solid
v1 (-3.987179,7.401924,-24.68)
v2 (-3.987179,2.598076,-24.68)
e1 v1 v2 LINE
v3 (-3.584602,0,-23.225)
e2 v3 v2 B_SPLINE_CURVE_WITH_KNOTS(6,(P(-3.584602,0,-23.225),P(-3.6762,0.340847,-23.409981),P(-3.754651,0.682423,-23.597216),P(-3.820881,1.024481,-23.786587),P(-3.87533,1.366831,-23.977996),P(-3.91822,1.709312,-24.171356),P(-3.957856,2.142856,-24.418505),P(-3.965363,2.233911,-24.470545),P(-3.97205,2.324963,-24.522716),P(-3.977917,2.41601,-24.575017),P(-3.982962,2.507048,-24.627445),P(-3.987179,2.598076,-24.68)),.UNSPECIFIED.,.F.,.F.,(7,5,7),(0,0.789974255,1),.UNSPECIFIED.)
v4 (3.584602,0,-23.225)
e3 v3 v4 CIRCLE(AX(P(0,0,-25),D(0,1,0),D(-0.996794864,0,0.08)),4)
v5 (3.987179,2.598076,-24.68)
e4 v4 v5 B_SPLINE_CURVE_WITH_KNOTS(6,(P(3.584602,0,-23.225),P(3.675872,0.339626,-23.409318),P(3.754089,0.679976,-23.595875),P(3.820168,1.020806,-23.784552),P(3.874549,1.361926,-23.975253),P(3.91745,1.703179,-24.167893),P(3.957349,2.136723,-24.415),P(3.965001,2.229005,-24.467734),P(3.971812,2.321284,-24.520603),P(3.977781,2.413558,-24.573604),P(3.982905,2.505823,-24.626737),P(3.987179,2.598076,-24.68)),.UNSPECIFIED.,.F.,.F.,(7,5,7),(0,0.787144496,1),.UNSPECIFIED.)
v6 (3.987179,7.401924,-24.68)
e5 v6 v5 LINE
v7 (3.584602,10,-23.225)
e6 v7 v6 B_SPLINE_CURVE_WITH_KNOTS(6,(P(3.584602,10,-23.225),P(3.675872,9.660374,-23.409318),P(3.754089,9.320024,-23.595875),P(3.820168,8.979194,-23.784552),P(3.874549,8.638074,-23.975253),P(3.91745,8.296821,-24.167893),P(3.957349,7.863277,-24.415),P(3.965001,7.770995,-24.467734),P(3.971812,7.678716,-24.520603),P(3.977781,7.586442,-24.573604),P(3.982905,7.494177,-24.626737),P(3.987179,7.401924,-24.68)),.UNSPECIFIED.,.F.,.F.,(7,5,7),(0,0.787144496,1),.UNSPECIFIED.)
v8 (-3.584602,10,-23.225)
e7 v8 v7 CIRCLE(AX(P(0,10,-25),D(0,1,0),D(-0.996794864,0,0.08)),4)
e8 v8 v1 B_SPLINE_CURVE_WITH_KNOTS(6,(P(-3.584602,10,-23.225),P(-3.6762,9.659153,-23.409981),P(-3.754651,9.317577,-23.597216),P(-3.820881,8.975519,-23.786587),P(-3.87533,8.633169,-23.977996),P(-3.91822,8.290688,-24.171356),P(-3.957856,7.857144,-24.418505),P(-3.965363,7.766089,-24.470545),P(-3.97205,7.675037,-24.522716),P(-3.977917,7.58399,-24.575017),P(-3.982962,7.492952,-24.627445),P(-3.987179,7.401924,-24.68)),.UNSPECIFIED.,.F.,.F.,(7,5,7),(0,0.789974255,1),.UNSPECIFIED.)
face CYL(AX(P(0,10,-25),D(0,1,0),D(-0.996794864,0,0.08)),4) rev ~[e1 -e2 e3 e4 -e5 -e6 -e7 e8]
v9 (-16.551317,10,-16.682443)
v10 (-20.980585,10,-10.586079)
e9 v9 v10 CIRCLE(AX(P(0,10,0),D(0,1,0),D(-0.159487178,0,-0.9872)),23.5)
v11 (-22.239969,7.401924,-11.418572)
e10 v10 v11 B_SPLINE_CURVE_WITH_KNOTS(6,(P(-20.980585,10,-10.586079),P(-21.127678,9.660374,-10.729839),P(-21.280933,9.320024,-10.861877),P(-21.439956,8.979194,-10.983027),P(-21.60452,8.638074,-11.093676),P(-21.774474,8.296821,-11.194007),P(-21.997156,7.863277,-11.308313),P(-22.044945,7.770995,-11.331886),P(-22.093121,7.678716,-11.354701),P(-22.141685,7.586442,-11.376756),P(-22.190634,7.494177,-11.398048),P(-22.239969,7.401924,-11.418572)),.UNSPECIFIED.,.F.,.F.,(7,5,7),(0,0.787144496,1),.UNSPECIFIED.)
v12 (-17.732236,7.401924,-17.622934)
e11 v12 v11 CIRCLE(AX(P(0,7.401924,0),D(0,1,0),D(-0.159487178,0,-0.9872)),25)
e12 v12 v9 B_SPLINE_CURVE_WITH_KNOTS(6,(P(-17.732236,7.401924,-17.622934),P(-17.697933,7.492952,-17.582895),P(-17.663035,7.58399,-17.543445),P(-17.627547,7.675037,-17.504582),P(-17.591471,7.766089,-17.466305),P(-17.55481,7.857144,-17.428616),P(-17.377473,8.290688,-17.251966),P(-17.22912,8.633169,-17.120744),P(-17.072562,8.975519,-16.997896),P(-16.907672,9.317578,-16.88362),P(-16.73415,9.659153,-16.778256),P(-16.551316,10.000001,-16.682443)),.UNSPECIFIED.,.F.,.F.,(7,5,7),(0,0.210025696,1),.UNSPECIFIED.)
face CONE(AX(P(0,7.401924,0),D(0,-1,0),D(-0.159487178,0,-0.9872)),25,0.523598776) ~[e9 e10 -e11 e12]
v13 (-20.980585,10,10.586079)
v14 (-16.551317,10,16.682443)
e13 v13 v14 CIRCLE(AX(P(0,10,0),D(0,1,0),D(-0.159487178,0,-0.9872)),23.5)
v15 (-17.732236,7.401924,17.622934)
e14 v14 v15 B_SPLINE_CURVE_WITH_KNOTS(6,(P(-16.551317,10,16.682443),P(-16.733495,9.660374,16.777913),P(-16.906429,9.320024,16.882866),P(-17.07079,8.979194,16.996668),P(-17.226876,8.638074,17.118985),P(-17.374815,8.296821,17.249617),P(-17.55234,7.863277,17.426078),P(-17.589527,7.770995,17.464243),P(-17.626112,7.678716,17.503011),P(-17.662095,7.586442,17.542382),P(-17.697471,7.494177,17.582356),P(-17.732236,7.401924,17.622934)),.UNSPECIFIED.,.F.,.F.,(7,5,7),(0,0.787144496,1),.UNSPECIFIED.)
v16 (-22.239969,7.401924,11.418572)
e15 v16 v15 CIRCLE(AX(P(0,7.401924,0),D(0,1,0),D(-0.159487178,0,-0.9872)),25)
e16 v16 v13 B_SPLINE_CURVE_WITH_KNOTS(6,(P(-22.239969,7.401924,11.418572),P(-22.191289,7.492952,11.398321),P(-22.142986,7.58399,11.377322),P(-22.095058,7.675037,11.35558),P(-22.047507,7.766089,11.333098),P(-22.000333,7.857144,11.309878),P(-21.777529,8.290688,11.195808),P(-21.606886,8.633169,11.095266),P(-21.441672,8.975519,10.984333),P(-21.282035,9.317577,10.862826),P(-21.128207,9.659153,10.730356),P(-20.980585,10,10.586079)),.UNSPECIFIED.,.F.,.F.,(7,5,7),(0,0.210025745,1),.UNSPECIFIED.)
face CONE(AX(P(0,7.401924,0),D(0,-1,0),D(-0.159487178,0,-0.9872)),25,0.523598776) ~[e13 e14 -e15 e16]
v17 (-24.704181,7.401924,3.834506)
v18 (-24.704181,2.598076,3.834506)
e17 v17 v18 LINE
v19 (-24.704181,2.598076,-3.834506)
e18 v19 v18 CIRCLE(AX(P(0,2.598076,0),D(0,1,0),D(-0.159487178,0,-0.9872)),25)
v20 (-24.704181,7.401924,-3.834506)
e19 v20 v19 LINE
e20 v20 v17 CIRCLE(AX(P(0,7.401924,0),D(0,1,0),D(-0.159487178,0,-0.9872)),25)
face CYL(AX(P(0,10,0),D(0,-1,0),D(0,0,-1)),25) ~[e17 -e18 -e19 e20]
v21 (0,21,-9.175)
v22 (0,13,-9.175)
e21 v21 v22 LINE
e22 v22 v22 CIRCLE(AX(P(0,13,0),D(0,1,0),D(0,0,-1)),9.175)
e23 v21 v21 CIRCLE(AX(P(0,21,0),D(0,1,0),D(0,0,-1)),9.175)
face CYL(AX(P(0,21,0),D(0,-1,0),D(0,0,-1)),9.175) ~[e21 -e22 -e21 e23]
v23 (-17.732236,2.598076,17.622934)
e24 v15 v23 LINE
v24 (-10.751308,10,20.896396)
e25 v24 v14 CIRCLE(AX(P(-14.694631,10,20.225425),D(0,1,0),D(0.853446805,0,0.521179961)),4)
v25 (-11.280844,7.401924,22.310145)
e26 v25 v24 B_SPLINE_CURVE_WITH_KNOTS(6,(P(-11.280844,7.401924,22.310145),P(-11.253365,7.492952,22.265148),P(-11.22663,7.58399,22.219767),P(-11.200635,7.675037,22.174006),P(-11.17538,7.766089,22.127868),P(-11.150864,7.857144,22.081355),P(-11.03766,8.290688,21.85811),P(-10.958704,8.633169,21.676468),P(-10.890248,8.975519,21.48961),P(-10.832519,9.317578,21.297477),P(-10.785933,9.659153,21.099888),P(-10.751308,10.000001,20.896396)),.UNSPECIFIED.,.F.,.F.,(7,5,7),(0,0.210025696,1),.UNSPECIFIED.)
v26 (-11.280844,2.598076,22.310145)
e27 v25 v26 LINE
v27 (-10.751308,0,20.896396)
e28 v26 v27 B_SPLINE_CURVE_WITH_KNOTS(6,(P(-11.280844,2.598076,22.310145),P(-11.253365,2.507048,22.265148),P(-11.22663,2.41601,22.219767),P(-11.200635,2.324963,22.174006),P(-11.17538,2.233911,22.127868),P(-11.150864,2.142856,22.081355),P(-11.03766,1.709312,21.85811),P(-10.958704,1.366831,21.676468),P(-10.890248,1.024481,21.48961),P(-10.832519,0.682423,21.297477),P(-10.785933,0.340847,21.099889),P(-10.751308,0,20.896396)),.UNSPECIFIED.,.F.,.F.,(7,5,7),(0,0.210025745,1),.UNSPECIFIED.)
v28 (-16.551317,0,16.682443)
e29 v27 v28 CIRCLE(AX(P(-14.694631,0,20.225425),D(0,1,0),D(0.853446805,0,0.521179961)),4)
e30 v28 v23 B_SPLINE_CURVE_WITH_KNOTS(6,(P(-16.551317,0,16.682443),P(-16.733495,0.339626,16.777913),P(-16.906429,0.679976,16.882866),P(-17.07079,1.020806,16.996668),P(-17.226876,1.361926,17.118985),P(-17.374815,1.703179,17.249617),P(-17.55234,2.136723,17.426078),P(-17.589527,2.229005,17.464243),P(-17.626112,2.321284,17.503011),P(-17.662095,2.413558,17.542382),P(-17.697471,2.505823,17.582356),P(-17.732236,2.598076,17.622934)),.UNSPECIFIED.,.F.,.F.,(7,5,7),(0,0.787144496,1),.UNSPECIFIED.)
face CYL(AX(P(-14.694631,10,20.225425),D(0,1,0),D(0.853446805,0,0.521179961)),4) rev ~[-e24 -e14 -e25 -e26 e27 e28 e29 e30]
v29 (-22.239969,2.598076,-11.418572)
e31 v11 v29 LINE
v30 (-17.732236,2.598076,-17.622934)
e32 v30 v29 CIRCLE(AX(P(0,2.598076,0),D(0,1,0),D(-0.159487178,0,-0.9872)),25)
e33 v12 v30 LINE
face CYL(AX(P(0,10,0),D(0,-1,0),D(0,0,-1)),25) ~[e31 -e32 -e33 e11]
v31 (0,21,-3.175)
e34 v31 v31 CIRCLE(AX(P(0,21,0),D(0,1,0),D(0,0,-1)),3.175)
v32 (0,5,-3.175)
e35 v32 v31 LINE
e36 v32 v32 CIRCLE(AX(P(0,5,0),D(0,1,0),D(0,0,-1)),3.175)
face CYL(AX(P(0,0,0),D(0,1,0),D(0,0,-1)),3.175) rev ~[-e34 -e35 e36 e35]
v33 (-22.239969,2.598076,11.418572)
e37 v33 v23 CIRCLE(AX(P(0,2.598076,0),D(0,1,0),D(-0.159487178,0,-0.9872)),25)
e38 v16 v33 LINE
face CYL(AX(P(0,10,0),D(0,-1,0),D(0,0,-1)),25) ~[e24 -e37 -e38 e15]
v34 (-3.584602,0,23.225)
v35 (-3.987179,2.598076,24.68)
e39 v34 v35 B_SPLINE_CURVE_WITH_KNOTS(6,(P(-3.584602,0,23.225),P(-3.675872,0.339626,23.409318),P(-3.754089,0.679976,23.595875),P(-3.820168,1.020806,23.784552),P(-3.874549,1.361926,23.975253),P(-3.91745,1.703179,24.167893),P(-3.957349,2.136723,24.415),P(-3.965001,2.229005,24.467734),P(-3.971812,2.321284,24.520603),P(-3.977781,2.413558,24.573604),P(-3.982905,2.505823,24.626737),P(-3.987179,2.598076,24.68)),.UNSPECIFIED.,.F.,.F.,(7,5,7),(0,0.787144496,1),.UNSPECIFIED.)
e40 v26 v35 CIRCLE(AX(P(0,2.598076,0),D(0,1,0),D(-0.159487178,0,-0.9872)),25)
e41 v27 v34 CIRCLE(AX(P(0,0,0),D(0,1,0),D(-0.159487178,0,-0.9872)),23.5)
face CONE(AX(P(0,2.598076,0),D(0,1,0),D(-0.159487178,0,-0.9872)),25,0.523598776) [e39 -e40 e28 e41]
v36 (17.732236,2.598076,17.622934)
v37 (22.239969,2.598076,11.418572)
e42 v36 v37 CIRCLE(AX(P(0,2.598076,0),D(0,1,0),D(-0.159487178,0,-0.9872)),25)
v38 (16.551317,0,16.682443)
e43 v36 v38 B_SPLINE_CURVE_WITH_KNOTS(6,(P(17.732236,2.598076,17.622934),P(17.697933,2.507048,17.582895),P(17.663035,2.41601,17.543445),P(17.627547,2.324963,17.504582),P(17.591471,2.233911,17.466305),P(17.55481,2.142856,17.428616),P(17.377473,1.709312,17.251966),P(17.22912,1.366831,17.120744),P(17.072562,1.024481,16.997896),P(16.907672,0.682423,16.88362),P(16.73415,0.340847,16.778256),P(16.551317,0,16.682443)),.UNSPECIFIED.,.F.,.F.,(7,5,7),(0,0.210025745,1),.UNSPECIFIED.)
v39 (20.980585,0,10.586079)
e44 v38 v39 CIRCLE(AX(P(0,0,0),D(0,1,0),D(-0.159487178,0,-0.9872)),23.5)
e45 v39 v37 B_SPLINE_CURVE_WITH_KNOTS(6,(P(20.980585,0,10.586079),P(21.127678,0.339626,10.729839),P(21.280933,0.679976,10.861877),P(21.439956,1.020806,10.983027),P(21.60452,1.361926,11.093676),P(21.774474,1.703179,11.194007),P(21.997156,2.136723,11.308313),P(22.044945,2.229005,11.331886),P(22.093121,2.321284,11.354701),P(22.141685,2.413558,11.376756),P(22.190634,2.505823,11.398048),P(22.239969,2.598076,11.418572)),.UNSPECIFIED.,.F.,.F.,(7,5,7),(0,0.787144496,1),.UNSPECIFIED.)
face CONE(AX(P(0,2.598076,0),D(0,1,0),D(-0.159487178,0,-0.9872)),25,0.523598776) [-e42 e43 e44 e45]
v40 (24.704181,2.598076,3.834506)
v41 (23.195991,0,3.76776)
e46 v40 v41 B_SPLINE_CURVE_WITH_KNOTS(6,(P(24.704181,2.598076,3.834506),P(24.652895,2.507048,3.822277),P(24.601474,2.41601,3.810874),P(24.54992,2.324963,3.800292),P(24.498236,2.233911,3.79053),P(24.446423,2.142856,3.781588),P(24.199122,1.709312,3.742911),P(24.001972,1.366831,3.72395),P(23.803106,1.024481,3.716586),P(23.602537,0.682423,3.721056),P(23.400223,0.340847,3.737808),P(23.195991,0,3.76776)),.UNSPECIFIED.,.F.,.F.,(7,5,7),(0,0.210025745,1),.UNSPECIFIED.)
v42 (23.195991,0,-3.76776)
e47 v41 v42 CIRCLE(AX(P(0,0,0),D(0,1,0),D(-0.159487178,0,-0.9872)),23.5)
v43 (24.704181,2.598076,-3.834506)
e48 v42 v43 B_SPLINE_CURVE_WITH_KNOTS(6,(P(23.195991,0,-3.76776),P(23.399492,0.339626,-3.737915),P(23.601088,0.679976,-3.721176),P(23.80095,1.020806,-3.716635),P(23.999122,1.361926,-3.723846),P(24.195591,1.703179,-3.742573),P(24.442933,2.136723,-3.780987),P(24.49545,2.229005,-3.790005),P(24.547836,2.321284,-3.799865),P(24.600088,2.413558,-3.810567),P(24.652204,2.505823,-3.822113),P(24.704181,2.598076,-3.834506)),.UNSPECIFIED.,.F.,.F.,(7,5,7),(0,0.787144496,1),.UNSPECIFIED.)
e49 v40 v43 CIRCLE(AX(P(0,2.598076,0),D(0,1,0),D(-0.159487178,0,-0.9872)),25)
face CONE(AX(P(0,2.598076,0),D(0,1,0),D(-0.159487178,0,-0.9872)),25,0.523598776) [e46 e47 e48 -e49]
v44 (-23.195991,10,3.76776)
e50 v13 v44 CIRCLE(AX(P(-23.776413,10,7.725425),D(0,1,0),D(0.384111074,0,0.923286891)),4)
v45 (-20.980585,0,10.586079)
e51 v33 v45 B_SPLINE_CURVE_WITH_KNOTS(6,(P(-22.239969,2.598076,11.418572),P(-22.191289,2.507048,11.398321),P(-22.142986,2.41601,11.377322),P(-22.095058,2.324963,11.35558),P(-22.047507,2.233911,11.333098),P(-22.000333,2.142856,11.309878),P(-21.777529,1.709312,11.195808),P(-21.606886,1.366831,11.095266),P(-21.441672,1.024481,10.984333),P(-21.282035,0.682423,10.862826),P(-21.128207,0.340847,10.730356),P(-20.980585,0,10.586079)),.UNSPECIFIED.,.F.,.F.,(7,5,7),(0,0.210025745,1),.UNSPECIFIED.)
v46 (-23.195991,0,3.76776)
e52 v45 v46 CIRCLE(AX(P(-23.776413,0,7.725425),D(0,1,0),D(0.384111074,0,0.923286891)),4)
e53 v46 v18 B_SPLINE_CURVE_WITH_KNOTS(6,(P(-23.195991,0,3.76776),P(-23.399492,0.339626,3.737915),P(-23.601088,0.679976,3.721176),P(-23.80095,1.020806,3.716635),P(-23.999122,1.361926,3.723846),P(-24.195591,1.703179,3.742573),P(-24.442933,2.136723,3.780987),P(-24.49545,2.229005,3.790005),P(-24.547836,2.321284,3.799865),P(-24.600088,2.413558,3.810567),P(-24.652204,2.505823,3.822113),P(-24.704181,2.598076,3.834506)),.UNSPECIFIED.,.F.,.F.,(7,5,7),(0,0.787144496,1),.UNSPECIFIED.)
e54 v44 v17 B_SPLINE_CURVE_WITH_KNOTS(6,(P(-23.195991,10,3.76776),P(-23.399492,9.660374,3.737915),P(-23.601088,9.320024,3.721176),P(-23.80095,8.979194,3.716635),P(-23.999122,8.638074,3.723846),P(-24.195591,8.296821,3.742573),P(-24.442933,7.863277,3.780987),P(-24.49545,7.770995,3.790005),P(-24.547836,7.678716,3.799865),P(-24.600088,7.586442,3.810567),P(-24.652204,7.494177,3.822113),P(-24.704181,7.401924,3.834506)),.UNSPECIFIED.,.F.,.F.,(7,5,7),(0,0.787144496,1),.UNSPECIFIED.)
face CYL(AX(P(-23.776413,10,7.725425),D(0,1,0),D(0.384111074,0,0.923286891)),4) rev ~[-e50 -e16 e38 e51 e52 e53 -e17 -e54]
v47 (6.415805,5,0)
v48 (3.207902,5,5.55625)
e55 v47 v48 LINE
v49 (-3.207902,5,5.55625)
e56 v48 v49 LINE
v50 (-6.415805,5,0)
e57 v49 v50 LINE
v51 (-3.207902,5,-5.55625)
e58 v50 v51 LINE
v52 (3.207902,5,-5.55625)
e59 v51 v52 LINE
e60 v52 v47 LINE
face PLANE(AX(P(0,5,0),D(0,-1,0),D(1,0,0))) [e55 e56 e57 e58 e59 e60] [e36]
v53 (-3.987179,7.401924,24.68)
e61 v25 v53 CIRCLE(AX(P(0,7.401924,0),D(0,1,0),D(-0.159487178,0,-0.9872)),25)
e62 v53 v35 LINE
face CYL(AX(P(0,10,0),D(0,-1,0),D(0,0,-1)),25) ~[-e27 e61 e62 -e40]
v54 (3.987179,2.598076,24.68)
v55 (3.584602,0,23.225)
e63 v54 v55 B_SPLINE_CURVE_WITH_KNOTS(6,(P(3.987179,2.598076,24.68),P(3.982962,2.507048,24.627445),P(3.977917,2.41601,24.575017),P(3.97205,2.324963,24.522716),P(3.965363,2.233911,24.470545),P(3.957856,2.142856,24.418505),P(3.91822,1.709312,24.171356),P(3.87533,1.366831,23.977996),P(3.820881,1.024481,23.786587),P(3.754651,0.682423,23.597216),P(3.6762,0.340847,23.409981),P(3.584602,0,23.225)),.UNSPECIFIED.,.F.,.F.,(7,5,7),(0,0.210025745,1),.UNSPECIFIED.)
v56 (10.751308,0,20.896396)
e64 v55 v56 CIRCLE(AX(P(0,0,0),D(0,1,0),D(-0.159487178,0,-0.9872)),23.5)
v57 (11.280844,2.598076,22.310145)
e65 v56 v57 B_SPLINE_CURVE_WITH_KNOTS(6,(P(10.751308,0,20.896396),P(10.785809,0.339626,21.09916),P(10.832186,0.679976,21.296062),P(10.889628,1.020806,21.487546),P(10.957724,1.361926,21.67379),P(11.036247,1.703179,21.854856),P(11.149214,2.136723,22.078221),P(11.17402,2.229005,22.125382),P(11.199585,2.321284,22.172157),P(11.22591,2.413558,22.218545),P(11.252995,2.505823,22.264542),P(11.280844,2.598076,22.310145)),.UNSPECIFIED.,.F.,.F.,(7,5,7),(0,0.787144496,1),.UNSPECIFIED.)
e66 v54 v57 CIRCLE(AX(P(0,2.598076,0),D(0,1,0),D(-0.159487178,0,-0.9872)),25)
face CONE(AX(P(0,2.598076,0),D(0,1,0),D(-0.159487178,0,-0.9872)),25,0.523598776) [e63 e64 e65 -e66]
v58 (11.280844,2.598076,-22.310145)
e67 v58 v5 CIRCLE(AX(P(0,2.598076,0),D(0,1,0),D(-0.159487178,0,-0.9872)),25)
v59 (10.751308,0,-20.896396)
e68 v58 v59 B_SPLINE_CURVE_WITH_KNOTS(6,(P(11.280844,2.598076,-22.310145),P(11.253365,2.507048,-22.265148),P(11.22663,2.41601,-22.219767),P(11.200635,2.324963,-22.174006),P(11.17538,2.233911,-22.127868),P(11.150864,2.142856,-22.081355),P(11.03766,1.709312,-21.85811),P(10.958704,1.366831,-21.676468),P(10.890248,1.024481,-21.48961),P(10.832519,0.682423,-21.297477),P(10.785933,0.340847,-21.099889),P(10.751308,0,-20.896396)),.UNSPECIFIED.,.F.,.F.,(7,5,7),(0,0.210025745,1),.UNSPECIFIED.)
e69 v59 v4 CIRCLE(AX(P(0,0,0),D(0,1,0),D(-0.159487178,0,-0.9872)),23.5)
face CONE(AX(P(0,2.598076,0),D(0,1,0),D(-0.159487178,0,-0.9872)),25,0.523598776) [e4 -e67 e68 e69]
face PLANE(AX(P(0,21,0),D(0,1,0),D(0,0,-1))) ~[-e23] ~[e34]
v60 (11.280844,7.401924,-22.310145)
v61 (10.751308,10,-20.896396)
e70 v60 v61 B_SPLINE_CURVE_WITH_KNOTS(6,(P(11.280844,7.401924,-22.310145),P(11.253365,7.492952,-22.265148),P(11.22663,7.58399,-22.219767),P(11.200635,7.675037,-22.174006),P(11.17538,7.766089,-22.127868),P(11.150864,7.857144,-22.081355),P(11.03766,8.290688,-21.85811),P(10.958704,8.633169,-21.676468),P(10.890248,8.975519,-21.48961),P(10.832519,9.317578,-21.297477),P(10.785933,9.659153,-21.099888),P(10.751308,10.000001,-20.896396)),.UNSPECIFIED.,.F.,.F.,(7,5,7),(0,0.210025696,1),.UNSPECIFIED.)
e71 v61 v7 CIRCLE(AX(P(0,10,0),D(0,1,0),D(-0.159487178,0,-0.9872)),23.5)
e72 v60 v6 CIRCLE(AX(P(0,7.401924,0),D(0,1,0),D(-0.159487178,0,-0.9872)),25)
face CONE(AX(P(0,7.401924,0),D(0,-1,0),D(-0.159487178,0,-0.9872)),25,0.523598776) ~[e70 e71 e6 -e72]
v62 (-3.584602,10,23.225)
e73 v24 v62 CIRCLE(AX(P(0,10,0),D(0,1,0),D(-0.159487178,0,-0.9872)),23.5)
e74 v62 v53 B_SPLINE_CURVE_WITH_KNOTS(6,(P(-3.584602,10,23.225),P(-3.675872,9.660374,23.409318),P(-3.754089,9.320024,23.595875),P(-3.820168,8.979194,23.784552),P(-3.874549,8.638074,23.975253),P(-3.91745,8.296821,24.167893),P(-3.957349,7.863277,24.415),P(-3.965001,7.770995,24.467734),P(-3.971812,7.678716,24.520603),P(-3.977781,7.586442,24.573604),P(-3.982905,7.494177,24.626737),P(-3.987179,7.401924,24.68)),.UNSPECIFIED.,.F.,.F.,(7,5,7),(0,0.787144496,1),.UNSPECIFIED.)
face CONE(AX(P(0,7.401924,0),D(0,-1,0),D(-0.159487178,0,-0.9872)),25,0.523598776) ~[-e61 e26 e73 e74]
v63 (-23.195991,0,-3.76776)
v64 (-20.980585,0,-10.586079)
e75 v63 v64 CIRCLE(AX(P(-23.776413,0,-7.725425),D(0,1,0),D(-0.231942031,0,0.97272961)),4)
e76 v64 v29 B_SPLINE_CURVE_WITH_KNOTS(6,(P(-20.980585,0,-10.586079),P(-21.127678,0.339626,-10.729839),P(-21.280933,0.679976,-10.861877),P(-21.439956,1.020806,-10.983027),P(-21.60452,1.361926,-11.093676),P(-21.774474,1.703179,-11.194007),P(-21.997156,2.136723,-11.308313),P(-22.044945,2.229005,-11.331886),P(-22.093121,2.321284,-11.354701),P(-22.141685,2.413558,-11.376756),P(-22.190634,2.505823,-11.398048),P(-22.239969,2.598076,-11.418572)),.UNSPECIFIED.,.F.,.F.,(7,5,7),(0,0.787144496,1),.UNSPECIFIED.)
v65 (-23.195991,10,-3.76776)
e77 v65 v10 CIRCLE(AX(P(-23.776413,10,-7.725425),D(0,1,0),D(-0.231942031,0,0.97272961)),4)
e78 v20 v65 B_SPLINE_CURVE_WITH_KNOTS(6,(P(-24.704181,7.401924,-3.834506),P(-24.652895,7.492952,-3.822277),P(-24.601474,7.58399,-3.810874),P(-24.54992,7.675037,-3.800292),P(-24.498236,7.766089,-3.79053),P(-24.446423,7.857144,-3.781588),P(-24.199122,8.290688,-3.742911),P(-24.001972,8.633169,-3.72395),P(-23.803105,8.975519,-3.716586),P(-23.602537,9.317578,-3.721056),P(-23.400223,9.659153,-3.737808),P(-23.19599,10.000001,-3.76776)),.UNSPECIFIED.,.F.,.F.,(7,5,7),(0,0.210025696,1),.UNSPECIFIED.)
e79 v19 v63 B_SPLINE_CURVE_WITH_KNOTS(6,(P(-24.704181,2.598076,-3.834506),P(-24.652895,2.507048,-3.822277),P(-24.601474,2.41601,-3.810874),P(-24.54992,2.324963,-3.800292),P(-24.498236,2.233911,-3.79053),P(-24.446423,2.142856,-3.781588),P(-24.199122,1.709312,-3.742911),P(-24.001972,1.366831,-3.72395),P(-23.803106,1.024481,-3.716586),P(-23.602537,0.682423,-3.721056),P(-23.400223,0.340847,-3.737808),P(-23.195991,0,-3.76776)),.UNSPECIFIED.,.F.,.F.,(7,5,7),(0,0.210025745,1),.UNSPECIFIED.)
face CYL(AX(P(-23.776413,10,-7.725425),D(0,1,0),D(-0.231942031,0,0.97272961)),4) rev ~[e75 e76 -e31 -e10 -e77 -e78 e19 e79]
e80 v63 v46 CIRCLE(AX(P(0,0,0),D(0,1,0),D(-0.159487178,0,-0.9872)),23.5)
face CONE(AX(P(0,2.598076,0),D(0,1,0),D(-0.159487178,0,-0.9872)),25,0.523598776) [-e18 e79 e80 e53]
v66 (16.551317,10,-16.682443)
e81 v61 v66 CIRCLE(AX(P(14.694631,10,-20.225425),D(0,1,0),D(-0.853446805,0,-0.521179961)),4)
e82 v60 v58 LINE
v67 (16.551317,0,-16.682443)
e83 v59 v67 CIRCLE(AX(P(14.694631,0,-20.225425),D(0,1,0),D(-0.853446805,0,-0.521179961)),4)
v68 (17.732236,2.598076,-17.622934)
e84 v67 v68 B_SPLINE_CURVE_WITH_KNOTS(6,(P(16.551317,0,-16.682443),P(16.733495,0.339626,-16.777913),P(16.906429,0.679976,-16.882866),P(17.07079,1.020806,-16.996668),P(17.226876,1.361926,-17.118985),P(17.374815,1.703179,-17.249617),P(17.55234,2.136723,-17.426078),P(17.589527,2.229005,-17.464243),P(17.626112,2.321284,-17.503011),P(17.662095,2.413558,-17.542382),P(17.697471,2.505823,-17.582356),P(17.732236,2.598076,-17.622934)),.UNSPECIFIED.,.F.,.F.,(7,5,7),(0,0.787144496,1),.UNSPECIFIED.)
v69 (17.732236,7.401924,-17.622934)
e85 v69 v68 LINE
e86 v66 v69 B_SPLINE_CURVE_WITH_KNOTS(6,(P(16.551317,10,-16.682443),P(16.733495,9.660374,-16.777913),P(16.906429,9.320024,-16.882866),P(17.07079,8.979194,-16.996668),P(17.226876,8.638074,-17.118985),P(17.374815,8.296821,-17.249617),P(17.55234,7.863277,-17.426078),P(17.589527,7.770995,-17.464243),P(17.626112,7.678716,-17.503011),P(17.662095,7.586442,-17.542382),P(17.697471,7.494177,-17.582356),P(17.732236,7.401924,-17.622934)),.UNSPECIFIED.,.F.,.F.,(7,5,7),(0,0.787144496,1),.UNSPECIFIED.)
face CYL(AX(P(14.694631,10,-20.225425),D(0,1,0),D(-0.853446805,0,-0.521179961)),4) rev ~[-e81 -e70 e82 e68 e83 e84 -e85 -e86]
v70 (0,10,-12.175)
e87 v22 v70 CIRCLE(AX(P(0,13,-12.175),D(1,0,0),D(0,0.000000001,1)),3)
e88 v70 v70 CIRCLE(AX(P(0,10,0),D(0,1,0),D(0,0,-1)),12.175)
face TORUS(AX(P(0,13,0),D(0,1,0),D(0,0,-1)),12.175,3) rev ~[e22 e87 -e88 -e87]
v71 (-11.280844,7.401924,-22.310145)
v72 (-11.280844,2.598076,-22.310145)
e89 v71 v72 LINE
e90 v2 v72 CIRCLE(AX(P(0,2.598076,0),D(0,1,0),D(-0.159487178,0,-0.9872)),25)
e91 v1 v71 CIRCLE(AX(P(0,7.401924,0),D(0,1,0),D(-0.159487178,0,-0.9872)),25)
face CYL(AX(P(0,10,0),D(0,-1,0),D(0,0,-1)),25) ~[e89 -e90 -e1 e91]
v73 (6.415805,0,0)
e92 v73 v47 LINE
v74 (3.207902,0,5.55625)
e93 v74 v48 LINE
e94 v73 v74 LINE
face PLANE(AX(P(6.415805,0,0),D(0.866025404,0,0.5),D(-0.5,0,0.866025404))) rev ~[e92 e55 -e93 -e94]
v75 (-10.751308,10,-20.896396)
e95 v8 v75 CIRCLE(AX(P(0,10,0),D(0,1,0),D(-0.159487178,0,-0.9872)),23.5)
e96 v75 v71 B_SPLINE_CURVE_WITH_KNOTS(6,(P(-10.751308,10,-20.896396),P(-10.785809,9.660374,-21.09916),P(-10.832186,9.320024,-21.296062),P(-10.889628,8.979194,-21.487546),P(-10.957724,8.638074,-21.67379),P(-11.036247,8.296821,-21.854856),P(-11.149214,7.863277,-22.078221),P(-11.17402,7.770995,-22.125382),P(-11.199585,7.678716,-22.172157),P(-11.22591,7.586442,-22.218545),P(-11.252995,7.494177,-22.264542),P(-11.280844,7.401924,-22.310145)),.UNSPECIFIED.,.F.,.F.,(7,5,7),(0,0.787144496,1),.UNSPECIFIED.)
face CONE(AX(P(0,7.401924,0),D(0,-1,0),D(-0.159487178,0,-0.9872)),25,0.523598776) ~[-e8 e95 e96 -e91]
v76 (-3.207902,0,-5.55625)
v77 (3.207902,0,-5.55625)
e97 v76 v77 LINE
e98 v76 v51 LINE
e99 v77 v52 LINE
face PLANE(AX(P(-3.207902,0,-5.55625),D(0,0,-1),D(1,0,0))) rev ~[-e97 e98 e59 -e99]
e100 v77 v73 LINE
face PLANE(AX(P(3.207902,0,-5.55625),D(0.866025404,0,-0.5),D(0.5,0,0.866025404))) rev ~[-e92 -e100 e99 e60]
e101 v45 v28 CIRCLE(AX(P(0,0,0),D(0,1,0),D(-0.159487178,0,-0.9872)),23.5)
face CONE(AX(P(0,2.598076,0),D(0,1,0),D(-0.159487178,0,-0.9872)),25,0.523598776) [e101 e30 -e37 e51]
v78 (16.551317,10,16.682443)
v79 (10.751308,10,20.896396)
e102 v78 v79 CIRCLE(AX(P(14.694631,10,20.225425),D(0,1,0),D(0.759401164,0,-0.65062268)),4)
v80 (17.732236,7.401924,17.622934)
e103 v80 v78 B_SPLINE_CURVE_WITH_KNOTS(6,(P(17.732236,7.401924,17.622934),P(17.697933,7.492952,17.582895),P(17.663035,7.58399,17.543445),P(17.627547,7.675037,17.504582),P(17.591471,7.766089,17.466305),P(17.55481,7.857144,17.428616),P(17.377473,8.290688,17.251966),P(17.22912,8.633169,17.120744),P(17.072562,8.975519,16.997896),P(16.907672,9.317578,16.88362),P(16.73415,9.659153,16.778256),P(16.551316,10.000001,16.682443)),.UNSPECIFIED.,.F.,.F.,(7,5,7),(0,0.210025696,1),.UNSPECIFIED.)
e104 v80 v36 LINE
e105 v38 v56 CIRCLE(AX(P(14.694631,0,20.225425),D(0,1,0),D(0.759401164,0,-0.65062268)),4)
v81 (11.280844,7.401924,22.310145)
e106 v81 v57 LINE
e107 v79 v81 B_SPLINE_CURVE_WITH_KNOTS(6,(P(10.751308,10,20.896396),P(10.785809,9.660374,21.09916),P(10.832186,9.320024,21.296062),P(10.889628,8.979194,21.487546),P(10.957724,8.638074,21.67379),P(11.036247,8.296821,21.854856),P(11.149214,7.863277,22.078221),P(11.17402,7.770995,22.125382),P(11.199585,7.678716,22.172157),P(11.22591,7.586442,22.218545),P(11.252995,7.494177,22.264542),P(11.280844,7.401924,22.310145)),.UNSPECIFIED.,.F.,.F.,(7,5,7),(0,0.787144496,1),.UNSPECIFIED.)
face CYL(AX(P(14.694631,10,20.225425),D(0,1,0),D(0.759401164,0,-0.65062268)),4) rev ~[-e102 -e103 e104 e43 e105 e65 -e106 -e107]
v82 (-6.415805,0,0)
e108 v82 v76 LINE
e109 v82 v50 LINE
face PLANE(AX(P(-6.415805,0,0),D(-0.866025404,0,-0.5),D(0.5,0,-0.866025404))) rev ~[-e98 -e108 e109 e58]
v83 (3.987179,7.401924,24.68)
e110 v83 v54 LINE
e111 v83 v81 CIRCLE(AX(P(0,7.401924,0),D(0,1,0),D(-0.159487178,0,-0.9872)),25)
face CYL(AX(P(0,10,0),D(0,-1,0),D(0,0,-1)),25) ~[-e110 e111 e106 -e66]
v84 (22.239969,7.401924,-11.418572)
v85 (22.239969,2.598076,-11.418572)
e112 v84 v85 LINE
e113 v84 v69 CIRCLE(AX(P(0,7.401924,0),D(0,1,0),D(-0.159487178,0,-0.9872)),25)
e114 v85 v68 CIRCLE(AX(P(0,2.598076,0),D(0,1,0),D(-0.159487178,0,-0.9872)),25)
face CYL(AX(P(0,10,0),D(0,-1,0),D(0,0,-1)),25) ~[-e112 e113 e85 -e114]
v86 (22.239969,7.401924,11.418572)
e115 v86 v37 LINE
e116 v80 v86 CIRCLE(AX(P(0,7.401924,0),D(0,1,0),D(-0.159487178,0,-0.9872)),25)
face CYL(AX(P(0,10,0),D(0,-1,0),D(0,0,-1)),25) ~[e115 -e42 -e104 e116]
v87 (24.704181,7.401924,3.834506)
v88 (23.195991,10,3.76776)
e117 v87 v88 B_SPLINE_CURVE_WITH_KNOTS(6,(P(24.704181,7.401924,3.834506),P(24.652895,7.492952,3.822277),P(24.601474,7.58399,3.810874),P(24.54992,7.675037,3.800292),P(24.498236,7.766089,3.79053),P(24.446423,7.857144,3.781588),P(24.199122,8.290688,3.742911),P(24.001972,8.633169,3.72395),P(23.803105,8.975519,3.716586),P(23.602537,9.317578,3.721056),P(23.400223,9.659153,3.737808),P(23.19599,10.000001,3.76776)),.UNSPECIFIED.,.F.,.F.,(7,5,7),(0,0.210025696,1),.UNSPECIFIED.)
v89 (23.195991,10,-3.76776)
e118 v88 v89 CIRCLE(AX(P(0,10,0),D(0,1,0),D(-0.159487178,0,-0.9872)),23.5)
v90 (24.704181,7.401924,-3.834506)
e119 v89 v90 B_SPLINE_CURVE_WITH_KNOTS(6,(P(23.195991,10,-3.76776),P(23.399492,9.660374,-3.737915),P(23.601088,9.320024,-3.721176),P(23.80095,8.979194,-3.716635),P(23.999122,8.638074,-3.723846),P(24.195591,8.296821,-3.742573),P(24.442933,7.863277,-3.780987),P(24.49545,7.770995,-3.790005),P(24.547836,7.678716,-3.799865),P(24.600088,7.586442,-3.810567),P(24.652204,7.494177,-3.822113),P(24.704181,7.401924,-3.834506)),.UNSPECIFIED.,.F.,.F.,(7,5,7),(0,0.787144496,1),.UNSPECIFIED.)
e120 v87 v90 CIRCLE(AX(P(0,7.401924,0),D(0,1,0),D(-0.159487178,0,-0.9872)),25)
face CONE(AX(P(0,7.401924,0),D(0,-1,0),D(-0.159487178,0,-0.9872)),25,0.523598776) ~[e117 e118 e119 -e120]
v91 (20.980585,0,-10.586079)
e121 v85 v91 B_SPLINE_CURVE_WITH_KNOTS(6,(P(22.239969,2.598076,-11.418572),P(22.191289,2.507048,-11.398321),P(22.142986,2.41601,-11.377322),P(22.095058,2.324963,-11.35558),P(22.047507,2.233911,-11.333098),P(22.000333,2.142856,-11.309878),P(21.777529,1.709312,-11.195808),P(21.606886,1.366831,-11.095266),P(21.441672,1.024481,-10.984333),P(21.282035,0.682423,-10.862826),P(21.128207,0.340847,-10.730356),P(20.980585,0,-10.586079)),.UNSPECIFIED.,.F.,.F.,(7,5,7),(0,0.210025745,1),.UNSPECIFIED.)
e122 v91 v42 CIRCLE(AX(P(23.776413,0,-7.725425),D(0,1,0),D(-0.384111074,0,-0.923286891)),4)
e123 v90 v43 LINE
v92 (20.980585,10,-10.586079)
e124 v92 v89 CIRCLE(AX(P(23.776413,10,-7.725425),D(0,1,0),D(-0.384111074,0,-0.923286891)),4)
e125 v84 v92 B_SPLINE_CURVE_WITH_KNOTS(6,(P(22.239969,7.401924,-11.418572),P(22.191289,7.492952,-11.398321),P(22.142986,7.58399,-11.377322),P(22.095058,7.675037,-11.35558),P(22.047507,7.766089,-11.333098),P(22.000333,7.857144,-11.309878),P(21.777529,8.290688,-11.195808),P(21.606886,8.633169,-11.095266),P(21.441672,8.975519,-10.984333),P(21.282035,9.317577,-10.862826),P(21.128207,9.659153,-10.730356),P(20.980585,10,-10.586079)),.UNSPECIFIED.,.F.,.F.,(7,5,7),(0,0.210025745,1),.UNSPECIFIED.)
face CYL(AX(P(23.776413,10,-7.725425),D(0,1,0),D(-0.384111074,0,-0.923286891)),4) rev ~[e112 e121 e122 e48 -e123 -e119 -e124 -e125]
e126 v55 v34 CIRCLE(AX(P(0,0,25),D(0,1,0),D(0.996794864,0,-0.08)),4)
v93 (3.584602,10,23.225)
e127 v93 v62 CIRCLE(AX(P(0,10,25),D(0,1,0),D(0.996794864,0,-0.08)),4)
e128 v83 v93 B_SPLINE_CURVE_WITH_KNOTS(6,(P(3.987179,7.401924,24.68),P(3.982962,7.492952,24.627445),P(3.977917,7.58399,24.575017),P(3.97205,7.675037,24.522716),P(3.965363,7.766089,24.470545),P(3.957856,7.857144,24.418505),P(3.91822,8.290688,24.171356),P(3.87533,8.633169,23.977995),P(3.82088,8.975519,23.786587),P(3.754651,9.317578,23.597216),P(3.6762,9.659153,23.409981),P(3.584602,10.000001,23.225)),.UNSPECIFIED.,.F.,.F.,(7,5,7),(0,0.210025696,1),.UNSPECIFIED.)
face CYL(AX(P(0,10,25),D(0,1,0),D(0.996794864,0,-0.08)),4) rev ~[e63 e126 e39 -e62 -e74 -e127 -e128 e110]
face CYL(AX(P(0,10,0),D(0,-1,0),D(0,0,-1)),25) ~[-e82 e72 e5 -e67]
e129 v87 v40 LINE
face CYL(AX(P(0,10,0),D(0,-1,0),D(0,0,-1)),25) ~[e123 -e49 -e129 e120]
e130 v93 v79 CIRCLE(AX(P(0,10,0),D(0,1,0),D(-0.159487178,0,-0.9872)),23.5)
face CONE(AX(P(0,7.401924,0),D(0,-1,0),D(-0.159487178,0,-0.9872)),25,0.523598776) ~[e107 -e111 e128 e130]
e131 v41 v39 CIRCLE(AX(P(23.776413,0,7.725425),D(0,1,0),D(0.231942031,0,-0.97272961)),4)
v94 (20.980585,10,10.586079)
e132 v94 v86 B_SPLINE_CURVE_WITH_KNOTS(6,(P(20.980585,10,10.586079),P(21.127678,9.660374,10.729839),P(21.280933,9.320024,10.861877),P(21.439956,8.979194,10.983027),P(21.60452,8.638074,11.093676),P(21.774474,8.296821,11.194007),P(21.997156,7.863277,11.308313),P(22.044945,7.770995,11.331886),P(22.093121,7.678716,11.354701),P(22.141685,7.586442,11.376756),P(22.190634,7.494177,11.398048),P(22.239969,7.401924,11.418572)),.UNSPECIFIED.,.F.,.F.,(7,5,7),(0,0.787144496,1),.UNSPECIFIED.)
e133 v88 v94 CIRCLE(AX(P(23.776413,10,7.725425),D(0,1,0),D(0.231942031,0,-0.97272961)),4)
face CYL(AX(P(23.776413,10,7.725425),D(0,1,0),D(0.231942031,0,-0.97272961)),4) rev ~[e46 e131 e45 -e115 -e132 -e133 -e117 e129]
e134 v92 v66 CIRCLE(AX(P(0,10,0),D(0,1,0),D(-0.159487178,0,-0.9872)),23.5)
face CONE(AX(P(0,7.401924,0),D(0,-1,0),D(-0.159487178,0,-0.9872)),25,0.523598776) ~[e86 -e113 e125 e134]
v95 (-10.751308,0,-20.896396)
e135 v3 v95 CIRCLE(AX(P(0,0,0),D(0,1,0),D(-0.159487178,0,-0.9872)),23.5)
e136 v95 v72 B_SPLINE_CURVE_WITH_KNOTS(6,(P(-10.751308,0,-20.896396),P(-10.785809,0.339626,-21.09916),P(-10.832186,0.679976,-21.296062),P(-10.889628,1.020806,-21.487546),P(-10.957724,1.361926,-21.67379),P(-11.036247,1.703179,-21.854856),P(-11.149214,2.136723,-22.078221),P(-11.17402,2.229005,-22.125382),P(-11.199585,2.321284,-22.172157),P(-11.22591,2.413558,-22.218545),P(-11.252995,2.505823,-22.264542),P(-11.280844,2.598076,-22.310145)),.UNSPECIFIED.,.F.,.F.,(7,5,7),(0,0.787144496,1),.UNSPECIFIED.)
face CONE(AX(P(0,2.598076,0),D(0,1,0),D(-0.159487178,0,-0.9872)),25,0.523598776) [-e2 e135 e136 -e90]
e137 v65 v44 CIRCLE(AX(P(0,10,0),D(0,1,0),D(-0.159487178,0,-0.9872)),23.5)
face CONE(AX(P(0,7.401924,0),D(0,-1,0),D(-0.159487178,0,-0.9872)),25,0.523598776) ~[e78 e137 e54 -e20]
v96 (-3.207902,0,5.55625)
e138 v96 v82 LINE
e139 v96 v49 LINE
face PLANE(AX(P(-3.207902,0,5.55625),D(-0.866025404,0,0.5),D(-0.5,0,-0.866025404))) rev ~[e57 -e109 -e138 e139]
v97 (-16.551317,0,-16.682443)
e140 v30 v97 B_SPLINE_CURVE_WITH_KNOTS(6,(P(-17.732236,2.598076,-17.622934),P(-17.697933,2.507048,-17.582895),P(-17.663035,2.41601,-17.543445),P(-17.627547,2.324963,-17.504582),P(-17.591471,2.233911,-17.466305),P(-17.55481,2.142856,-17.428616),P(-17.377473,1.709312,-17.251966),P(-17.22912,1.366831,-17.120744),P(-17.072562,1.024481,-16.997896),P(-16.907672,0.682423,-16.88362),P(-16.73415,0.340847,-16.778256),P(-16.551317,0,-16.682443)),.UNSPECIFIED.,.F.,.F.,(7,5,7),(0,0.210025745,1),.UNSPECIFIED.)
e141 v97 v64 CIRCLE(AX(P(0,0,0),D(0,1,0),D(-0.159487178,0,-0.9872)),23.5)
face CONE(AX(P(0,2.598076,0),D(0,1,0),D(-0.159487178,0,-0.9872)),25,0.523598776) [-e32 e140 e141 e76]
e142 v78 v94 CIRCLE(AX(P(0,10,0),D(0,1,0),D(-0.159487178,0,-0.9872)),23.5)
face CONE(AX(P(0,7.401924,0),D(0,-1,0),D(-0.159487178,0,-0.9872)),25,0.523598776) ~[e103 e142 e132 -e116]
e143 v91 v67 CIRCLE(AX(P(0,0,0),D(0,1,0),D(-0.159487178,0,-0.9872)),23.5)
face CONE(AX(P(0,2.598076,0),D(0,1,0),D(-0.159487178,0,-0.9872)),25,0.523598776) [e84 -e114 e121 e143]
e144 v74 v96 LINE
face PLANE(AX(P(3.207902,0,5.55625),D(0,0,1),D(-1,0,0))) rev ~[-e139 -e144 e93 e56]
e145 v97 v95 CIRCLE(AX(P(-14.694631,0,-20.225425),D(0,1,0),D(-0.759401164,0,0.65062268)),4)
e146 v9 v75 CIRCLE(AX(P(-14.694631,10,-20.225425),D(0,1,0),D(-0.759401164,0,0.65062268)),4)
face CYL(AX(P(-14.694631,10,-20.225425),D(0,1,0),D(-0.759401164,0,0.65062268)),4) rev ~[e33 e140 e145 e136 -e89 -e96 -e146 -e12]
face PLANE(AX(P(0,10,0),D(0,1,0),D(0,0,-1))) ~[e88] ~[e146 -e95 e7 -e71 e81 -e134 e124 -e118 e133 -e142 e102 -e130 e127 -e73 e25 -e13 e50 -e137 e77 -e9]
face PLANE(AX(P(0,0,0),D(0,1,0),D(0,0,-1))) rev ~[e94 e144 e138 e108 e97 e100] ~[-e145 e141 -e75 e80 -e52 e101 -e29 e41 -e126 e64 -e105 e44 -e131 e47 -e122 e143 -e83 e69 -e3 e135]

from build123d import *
from OCP.BRepFilletAPI import BRepFilletAPI_MakeChamfer

# Parameters (mm, degrees)
CUT_EXTRUDE3_DEPTH = 38.027017163
CHAMFER1_SIZE      = 1.5
CHAMFER1_SIZE2     = 2.598076211
CIRPATTERN1_COUNT  = 10
CUT_EXTRUDE2_DEPTH = 5


with BuildPart() as part:
    # Sketch1 → Revolve1 (revolve)
    with BuildSketch(Plane.XY, mode=Mode.PRIVATE) as revolve1_sk:
        with BuildLine():
            Line((3.175, 0), (3.175, 21))
            Line((3.175, 21), (9.175, 21))
            Line((9.175, 21), (9.175, 13))
            ThreePointArc((9.175, 13), (10.053679656, 10.878679656), (12.175, 10))
            Line((12.175, 10), (25, 10))
            Line((25, 10), (25, 0))
            Line((25, 0), (3.175, 0))
        make_face()
    revolve(revolve1_sk.sketch.rotate(Axis((0, 0, 0), (0, 1, 0)), 90), axis=Axis((0, 0, 0), (0, 1, 0)))

    # Sketch4 → Cut-Extrude3 (cut, through all)
    with BuildSketch(Plane(origin=(0, 10, 0), x_dir=(1, 0, 0), z_dir=(0, 1, 0))):
        with BuildLine():
            ThreePointArc((-3.987179454, 24.68), (0, 21), (3.987179454, 24.68))
            ThreePointArc((3.987179454, 24.68), (0, 25), (-3.987179454, 24.68))
        make_face()
    cut_extrude3 = extrude(amount=-CUT_EXTRUDE3_DEPTH, mode=Mode.SUBTRACT)

    # Chamfer1: one chamfer whose edges measure the first distance from different faces: ONE call of the kernel's chamfer builder (chamfer() names one face for all edges)
    chamfer1_edges_1 = [part.edges().sort_by_distance(p)[0] for p in [
        (0, 10, 25),
    ]]
    chamfer1_side_1 = [part.faces().sort_by_distance(p)[0] for p in [
        (0, 10, 24.295152329),
    ]]
    chamfer1_edges_2 = [part.edges().sort_by_distance(p)[0] for p in [
        (0, 0, 25),
    ]]
    chamfer1_side_2 = [part.faces().sort_by_distance(p)[0] for p in [
        (0, 0, -20.295152329),
    ]]
    chamfer1 = BRepFilletAPI_MakeChamfer(part.part.solid().wrapped)
    for e in chamfer1_edges_1:
        chamfer1.Add(CHAMFER1_SIZE, CHAMFER1_SIZE2, e.wrapped, chamfer1_side_1[0].wrapped)  # the first distance lies on this face
    for e in chamfer1_edges_2:
        chamfer1.Add(CHAMFER1_SIZE, CHAMFER1_SIZE2, e.wrapped, chamfer1_side_2[0].wrapped)  # the first distance lies on this face
    add(Compound.cast(chamfer1.Shape()), mode=Mode.REPLACE)

    # CirPattern1: Cut-Extrude3 ×10 about axis
    cirpattern1_axis = Axis((0, 0, 0), (0, 1, 0))
    for i in range(1, CIRPATTERN1_COUNT):
        add(cut_extrude3.rotate(cirpattern1_axis, i * 360 / CIRPATTERN1_COUNT), mode=Mode.SUBTRACT)

    # Sketch3 → Cut-Extrude2 (cut)
    with BuildSketch(Plane.XZ):
        Polygon((3.207902433, 5.55625), (-3.207902433, 5.55625), (-6.415804866, 0), (-3.207902433, -5.55625), (3.207902433, -5.55625), (6.415804866, 0), align=None)
    extrude(amount=-CUT_EXTRUDE2_DEPTH, mode=Mode.SUBTRACT)


solid = part.part
